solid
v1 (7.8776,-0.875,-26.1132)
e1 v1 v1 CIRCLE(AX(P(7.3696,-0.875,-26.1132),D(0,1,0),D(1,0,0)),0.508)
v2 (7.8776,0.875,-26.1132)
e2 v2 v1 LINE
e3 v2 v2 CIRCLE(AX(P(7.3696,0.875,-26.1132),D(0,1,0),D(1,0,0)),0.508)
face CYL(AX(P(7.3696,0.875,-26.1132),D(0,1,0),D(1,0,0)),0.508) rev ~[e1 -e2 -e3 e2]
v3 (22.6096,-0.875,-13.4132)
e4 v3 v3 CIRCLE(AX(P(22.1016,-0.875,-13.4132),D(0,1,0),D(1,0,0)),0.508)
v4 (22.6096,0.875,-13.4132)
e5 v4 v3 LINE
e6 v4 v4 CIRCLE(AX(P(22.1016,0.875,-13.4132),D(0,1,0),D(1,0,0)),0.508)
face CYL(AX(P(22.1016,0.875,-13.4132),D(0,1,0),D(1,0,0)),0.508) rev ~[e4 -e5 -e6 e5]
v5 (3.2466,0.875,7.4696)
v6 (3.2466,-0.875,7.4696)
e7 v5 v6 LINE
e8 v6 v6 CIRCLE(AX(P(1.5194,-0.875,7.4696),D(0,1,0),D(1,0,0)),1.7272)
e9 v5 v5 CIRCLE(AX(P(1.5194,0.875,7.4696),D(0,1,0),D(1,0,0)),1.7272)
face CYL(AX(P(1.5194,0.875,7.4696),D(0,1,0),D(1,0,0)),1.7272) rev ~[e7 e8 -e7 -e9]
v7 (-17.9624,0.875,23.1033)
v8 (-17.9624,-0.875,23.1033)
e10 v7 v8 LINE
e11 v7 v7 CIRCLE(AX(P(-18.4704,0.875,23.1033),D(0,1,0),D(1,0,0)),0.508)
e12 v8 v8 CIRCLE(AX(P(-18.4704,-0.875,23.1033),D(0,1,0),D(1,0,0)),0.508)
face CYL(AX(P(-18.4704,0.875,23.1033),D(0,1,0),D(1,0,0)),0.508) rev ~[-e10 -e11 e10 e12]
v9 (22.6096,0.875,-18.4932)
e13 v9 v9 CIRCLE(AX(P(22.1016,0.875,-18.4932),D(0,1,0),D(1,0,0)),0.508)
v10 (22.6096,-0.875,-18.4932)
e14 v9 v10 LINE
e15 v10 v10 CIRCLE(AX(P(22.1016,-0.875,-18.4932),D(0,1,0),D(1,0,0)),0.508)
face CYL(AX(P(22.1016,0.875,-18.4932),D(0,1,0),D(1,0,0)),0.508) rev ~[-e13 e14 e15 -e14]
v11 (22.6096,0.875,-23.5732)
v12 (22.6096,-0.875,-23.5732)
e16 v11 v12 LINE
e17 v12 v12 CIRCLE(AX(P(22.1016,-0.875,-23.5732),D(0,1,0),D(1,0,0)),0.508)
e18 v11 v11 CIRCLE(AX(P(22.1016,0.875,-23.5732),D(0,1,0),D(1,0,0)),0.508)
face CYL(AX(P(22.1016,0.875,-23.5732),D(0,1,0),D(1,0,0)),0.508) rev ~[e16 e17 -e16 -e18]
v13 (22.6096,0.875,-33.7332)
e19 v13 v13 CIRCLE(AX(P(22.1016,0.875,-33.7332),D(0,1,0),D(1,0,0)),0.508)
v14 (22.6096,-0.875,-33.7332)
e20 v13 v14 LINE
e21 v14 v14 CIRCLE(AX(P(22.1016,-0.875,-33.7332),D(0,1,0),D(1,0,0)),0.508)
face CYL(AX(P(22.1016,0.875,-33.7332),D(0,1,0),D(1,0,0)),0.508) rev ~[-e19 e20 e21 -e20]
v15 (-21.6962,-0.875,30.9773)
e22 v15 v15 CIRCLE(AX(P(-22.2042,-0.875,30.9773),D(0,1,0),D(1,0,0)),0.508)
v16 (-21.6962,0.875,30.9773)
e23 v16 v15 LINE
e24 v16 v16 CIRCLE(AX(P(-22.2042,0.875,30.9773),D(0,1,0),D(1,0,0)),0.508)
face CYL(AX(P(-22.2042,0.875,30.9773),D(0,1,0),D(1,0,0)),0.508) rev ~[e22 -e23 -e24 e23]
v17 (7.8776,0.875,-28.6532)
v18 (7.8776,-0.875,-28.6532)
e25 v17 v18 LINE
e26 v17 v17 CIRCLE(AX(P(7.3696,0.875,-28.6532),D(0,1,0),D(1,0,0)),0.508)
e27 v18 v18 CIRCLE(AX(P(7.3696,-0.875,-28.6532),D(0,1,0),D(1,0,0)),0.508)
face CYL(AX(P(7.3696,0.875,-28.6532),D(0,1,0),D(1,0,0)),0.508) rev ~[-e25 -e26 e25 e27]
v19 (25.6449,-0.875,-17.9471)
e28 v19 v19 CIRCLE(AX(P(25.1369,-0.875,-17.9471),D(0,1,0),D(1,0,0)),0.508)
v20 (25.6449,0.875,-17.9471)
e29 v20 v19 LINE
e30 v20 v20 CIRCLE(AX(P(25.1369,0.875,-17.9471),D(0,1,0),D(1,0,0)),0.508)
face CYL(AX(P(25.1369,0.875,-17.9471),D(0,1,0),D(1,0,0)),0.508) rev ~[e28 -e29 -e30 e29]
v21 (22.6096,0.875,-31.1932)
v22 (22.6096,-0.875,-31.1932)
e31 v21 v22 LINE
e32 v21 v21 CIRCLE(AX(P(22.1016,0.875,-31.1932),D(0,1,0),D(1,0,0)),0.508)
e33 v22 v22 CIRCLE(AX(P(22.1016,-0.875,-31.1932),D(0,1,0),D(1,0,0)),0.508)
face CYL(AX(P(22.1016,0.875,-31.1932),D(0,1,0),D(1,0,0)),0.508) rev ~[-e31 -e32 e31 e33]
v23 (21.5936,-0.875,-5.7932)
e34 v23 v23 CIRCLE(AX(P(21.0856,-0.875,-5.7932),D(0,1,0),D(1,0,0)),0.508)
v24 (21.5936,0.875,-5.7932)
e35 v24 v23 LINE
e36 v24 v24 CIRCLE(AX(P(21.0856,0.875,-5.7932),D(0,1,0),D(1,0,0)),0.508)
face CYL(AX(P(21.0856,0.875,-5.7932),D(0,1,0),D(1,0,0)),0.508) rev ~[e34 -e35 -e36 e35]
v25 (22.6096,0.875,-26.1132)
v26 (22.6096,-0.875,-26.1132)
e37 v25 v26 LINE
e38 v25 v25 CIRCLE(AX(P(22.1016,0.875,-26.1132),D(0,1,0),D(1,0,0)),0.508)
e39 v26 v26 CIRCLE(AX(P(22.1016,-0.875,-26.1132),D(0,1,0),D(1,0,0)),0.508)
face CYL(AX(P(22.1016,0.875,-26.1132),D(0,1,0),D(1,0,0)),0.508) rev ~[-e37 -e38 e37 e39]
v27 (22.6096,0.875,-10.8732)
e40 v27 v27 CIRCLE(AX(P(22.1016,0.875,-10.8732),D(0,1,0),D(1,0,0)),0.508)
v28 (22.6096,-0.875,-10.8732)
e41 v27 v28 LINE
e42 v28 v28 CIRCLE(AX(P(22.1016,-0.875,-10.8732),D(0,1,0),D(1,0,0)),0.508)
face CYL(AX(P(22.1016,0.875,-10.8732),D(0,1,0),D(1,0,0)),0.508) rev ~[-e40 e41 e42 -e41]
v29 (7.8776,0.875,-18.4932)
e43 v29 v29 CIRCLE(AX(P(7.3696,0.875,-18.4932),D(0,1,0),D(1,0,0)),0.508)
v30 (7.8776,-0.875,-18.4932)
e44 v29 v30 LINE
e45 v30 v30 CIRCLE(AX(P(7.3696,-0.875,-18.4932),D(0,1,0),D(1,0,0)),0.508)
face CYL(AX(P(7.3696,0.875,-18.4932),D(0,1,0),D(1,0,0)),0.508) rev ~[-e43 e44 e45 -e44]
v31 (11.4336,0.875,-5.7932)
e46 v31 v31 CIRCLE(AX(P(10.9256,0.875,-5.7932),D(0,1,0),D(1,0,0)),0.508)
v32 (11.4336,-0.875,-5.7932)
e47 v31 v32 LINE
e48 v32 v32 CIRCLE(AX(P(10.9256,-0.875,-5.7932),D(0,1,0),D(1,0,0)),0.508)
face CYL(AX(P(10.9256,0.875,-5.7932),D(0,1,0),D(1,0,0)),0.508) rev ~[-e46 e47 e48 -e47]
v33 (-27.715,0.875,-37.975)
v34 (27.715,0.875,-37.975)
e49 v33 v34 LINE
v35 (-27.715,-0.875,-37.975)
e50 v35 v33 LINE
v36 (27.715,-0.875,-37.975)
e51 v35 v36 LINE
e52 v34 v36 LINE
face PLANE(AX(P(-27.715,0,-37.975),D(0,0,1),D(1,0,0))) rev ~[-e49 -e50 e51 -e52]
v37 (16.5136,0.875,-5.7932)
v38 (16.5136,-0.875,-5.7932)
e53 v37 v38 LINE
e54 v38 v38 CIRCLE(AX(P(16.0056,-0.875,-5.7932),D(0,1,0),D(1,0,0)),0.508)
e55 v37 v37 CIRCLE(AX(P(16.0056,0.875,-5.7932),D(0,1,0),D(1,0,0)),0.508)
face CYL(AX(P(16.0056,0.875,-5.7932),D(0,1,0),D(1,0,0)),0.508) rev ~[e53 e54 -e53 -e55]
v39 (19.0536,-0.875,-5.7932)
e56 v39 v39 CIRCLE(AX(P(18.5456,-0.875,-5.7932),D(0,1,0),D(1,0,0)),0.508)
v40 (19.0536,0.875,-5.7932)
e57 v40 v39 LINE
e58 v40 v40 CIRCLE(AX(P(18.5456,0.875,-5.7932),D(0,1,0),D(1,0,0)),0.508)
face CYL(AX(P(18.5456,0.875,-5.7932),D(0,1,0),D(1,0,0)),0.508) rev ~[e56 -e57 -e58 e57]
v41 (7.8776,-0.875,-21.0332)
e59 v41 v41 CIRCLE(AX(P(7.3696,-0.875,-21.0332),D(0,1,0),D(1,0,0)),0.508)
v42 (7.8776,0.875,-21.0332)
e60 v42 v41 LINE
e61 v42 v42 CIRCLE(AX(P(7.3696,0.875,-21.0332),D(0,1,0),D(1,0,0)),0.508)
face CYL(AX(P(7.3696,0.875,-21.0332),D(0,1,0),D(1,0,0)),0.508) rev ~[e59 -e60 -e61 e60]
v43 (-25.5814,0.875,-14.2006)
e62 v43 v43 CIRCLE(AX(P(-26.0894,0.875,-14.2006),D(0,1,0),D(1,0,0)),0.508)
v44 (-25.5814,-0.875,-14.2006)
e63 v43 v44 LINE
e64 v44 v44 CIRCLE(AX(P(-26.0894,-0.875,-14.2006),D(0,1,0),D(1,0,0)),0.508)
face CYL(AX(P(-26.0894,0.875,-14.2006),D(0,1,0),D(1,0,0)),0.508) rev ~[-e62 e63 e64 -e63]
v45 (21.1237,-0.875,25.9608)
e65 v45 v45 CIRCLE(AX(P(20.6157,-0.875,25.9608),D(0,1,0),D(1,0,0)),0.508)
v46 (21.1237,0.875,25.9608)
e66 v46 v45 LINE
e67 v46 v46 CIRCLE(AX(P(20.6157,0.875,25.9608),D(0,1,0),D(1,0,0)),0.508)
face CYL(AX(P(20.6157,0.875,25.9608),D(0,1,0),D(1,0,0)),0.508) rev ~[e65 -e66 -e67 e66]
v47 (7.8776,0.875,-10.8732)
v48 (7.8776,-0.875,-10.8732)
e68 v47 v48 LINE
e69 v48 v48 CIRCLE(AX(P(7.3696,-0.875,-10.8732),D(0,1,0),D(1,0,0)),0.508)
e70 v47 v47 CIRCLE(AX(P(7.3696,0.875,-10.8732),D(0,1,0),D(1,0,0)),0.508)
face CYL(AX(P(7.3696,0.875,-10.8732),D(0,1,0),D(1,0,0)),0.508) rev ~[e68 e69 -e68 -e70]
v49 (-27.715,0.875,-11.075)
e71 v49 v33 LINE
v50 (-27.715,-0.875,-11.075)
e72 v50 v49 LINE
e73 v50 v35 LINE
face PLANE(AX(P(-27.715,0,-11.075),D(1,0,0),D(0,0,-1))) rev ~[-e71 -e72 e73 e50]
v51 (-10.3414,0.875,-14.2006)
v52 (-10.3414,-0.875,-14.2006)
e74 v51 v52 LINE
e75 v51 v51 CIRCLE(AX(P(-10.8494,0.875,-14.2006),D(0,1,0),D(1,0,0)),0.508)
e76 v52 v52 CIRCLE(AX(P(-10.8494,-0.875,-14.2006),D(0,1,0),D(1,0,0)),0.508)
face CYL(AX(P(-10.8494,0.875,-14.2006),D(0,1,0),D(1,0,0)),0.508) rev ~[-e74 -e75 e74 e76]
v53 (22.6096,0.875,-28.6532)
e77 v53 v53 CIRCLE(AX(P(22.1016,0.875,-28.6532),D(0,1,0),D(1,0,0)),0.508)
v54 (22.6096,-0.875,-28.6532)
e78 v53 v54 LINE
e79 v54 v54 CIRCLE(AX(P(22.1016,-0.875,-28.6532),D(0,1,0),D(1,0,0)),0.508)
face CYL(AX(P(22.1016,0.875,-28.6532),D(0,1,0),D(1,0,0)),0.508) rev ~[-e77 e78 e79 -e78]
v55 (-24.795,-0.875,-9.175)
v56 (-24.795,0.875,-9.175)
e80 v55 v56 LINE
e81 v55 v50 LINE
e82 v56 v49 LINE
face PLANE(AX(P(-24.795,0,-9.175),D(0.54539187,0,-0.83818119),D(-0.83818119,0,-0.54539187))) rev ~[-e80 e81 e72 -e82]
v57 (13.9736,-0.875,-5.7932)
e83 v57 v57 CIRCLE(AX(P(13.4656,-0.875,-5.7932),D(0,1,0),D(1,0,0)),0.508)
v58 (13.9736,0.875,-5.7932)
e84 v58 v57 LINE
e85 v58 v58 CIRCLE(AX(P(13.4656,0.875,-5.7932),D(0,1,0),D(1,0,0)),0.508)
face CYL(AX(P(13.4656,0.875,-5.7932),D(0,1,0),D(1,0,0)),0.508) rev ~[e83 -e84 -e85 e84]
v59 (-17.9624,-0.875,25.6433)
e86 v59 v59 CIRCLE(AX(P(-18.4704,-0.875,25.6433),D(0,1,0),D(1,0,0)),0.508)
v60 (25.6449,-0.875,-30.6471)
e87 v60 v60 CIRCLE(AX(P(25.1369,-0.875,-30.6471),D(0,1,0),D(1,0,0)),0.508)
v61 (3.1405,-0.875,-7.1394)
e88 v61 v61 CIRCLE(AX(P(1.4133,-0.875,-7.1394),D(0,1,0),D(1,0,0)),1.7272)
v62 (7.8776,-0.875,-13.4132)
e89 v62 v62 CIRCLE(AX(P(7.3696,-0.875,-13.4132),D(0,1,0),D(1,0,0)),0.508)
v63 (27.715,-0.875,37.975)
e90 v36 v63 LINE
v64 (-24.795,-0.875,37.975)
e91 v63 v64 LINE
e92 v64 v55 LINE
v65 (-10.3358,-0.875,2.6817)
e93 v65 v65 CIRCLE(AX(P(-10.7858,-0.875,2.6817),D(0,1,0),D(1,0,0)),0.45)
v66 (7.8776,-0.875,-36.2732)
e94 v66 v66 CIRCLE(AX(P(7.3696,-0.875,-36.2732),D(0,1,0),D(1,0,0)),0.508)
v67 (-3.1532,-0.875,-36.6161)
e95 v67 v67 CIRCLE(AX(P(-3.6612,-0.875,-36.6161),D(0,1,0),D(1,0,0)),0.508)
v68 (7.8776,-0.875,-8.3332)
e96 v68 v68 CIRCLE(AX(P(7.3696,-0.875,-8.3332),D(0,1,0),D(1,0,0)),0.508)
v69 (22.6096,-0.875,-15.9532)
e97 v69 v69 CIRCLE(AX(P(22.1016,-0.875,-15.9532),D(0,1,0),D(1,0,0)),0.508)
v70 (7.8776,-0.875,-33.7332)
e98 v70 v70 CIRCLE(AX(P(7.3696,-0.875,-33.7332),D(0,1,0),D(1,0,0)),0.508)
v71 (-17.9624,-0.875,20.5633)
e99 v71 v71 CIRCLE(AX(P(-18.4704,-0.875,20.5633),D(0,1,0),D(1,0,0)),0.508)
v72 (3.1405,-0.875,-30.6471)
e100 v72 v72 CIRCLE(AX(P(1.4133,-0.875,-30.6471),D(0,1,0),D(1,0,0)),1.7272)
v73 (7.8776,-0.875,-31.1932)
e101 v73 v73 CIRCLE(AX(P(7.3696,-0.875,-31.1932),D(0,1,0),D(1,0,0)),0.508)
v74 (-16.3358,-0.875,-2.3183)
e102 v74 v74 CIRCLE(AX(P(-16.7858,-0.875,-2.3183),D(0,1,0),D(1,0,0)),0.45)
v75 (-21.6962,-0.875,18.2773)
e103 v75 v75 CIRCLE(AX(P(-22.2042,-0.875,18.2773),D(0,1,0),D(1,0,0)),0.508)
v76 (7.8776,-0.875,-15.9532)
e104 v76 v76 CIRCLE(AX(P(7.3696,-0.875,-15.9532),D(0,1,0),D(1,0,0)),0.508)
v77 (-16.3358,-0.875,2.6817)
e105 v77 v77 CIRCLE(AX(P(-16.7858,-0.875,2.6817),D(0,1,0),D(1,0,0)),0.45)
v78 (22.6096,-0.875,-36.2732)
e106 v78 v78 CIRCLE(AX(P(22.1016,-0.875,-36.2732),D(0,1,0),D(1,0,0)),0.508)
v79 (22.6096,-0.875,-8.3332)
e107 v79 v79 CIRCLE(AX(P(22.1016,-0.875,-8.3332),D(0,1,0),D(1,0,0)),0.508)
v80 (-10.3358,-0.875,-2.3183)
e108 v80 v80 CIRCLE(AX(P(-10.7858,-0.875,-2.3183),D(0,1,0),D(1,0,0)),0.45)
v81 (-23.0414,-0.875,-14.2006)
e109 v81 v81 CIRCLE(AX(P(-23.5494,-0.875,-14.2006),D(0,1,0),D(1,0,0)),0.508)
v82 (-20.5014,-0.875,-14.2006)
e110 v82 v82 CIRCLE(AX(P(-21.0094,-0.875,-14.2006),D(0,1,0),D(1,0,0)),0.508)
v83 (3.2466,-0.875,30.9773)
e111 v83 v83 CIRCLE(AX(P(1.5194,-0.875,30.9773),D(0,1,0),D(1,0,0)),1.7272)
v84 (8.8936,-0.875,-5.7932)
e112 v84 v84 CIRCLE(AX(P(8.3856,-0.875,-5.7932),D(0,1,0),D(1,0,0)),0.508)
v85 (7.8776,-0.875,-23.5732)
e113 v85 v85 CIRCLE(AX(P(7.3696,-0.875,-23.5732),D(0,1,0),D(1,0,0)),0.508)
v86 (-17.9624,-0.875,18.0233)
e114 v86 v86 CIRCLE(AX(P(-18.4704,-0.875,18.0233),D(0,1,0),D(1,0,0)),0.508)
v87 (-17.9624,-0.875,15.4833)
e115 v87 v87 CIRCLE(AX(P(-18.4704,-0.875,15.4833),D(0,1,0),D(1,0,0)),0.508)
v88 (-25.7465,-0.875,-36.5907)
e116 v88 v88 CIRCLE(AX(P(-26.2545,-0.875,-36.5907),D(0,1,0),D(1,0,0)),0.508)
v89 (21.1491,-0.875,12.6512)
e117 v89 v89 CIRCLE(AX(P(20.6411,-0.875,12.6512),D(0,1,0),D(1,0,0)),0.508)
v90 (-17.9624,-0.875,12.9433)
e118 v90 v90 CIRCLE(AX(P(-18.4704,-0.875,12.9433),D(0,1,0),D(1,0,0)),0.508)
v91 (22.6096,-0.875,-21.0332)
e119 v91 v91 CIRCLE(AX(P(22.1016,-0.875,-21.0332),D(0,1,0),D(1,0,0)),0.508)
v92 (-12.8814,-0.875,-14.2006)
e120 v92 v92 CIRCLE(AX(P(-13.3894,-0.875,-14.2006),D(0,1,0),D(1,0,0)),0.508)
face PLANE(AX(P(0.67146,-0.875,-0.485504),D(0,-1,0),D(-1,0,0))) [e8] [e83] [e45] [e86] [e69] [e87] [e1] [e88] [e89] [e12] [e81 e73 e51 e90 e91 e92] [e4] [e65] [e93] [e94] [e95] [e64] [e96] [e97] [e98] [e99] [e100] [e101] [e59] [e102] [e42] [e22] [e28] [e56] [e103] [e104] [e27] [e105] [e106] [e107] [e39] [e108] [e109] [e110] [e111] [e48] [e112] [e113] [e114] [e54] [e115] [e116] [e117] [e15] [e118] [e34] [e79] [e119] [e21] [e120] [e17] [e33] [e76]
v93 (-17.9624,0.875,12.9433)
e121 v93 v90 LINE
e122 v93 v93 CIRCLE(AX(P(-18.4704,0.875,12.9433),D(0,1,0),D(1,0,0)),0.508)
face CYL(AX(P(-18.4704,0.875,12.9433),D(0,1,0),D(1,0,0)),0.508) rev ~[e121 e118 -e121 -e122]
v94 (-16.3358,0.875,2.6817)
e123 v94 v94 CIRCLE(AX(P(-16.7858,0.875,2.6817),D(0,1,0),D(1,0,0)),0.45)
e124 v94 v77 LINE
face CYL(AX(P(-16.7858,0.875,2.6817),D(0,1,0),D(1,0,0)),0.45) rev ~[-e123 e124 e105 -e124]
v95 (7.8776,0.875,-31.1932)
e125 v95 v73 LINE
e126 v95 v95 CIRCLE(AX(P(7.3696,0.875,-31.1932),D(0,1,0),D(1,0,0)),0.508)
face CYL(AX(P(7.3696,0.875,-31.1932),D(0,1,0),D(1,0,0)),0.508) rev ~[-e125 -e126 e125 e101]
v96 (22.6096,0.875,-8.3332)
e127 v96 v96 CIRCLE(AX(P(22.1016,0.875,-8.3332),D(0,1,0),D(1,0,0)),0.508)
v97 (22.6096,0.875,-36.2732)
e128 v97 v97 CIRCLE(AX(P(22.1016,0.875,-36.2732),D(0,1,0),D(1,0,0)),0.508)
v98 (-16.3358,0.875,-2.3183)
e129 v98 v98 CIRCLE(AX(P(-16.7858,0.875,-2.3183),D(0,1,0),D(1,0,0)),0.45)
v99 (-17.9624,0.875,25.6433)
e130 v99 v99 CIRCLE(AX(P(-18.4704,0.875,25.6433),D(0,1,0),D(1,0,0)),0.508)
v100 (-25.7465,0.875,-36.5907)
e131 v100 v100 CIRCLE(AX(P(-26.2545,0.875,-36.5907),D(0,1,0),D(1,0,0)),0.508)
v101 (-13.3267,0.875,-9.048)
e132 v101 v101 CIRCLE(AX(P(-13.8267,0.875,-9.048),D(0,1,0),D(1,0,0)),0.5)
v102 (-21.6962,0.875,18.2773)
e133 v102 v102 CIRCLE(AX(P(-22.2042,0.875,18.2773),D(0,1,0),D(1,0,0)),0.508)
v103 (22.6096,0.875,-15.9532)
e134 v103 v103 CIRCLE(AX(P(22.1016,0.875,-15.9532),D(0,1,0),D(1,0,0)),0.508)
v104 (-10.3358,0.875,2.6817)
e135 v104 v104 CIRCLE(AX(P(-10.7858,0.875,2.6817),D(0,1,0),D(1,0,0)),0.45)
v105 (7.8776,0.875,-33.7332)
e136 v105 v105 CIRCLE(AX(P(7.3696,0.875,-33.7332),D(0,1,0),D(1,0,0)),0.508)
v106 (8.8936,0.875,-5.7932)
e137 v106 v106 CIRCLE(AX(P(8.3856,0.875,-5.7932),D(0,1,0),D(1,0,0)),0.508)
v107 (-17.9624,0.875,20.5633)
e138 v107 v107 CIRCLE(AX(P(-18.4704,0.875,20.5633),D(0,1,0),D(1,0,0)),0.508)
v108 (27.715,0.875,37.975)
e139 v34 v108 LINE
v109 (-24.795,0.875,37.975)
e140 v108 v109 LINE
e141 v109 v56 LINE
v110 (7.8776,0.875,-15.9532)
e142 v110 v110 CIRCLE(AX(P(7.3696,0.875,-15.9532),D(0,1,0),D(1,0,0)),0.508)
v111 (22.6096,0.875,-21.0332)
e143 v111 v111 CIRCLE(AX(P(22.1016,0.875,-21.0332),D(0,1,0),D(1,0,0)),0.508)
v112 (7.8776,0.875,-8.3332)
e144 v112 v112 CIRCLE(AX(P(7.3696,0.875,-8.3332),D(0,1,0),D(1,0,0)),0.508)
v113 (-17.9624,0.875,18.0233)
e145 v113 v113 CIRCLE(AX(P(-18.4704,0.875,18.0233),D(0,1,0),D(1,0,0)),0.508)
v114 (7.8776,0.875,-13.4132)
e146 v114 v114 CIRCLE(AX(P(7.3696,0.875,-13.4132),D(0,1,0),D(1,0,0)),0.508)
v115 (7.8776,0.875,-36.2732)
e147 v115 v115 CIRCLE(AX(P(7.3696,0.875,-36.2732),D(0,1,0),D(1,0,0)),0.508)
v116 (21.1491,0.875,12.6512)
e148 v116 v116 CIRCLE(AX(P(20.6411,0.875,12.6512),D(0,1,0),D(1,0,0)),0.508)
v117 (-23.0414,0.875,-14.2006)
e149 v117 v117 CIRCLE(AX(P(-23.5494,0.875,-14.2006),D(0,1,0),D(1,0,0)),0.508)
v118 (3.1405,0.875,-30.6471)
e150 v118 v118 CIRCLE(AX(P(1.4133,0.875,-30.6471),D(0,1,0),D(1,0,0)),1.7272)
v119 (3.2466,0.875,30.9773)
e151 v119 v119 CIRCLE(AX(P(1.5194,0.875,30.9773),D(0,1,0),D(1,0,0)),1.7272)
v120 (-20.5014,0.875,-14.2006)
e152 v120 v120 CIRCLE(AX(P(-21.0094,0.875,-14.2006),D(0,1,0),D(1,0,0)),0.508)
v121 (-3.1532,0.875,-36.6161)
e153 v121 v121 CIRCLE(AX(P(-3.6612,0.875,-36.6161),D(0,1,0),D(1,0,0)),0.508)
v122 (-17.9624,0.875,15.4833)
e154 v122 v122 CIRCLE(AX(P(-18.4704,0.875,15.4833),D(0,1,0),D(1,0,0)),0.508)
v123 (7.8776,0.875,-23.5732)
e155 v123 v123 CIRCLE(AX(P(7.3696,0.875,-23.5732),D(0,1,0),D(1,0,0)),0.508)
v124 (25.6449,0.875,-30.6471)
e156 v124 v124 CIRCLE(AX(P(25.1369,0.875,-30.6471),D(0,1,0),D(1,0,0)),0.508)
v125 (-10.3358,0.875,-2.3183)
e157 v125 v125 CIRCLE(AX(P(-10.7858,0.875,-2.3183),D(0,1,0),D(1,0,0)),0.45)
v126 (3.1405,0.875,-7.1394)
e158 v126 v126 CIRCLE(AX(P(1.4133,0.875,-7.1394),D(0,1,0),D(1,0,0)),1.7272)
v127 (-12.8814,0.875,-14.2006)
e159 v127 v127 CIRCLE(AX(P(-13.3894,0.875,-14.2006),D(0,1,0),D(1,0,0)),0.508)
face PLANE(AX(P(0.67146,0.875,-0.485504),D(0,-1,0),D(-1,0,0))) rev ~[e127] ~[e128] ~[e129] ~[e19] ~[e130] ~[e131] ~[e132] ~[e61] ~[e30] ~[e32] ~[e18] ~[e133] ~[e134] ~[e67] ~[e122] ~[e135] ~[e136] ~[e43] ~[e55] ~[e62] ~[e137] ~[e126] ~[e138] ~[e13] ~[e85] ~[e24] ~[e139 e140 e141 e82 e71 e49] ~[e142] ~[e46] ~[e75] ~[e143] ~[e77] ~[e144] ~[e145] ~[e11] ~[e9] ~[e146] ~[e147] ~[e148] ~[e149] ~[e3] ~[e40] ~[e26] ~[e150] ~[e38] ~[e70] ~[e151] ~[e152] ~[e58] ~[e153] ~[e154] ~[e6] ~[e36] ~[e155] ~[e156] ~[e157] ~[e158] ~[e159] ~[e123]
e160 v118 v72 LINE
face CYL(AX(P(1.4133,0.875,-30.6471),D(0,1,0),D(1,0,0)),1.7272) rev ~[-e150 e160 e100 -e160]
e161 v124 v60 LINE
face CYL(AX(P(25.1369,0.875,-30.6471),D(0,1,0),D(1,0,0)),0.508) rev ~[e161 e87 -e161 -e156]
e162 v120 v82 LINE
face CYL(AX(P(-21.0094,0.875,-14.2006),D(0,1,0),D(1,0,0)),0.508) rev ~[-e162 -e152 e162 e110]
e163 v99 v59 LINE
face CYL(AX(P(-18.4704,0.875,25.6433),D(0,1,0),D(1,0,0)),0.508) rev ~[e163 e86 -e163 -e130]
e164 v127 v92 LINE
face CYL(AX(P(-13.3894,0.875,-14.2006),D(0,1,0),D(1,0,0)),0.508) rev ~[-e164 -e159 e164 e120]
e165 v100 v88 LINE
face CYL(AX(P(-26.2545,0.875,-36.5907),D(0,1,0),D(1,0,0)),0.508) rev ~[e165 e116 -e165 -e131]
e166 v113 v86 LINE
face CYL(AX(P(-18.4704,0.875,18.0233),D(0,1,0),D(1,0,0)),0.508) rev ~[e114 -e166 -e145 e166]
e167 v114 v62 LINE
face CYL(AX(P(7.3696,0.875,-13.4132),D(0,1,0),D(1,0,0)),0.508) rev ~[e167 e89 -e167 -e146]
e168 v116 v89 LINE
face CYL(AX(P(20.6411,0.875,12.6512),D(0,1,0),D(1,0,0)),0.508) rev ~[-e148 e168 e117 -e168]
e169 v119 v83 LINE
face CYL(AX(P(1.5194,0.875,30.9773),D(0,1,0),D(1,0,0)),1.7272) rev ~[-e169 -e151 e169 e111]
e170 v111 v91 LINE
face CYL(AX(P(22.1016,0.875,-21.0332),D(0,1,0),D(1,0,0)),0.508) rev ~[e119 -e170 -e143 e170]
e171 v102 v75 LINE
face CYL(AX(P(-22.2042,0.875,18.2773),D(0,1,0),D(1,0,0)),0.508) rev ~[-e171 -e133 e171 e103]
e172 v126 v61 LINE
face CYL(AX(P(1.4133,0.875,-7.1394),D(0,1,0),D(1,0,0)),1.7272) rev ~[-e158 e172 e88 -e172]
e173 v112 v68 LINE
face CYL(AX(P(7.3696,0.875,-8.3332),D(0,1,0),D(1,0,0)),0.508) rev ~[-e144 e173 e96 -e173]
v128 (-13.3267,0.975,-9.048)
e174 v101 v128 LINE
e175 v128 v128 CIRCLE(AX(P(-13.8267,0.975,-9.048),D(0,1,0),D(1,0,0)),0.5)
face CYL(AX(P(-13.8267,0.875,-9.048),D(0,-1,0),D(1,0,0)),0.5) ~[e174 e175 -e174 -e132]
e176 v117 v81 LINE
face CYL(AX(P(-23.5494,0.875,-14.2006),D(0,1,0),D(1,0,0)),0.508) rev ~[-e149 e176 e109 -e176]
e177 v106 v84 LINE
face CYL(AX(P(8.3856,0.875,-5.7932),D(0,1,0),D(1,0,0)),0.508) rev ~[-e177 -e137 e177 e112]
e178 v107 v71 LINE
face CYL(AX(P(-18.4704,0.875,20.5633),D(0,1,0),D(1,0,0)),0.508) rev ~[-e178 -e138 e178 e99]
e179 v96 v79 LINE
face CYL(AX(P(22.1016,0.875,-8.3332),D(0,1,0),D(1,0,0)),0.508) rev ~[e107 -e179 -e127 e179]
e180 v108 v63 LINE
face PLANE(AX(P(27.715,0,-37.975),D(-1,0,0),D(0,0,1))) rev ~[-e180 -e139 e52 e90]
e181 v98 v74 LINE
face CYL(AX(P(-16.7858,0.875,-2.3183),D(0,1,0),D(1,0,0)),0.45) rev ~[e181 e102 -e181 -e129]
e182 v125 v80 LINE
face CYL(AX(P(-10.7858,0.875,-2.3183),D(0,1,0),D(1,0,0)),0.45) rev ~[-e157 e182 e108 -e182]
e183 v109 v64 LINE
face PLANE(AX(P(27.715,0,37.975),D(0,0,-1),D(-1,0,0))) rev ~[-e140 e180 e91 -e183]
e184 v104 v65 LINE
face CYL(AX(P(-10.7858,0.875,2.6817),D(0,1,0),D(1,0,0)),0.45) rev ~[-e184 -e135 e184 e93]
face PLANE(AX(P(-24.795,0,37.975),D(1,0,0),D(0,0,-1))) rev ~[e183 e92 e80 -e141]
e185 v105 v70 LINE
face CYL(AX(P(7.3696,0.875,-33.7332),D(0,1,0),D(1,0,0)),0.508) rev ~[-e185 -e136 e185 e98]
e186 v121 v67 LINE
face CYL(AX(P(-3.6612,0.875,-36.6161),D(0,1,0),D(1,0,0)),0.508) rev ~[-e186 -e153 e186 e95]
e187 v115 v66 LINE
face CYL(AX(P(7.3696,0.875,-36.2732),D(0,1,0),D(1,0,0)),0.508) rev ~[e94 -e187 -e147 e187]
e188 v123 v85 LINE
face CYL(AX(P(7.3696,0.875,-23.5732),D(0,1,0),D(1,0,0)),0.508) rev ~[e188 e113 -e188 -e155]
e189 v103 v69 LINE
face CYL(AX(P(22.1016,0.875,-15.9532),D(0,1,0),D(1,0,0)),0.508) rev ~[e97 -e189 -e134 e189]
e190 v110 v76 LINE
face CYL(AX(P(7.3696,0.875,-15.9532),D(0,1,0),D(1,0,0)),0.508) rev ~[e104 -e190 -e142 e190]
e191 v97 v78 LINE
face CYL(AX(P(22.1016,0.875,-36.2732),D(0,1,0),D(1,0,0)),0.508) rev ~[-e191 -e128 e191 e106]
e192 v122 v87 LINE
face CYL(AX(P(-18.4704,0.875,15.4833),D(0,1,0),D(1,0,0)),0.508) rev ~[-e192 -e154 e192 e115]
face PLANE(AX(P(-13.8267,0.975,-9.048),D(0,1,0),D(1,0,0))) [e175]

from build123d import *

# Parameters (mm, degrees)
BOSS_EXTRUDE1_DEPTH = 0.875
SKETCH2_R           = 1.7272
SKETCH2_R_2         = 0.508
CUT_EXTRUDE1_DEPTH  = 2.75
SKETCH4_R           = 0.508
CUT_EXTRUDE2_DEPTH  = 2.75
SKETCH5_R           = 0.508
CUT_EXTRUDE3_DEPTH  = 2.75
SKETCH6_R           = 0.508
CUT_EXTRUDE4_DEPTH  = 2.75
SKETCH7_R           = 0.508
CUT_EXTRUDE5_DEPTH  = 2.75
SKETCH8_R           = 0.45
CUT_EXTRUDE6_DEPTH  = 2.75
SKETCH9_R           = 0.5
BOSS_EXTRUDE2_DEPTH = 0.1


with BuildPart() as part:
    # Sketch1 → Boss-Extrude1 (new body, symmetric)
    with BuildSketch(Plane(origin=(0, 0, 0), x_dir=(1, 0, 0), z_dir=(0, 1, 0))):
        Polygon((-27.715, 37.975), (27.715, 37.975), (27.715, -37.975), (-24.795, -37.975), (-24.795, 9.175), (-27.715, 11.075), align=None)
    extrude(amount=BOSS_EXTRUDE1_DEPTH, both=True)

    # Sketch2 → Cut-Extrude1 (cut, through all)
    with BuildSketch(Plane(origin=(0, 0.875, 0), x_dir=(1, 0, 0), z_dir=(0, 1, 0))):
        with Locations((1.5194, -30.9773)):
            Circle(SKETCH2_R)
        with Locations((1.5194, -7.4696)):
            Circle(SKETCH2_R)
        with Locations((1.4133, 7.1394)):
            Circle(SKETCH2_R)
        with Locations((1.4133, 30.6471)):
            Circle(SKETCH2_R)
        with Locations((-22.2042, -30.9773)):
            Circle(SKETCH2_R_2)
        with Locations((-22.2042, -18.2773)):
            Circle(SKETCH2_R_2)
        with Locations((25.1369, 17.9471)):
            Circle(SKETCH2_R_2)
        with Locations((25.1369, 30.6471)):
            Circle(SKETCH2_R_2)
    extrude(amount=-CUT_EXTRUDE1_DEPTH, mode=Mode.SUBTRACT)

    # Sketch4 → Cut-Extrude2 (cut, through all)
    with BuildSketch(Plane(origin=(0, 0.875, 0), x_dir=(1, 0, 0), z_dir=(0, 1, 0))):
        with Locations((-18.4704, -12.9433)):
            Circle(SKETCH4_R)
        with Locations((-18.4704, -15.4833)):
            Circle(SKETCH4_R)
        with Locations((-18.4704, -18.0233)):
            Circle(SKETCH4_R)
        with Locations((-18.4704, -20.5633)):
            Circle(SKETCH4_R)
        with Locations((-18.4704, -23.1033)):
            Circle(SKETCH4_R)
        with Locations((-18.4704, -25.6433)):
            Circle(SKETCH4_R)
    extrude(amount=-CUT_EXTRUDE2_DEPTH, mode=Mode.SUBTRACT)

    # Sketch5 → Cut-Extrude3 (cut, through all)
    with BuildSketch(Plane(origin=(0, 0.875, 0), x_dir=(1, 0, 0), z_dir=(0, 1, 0))):
        with Locations((-26.0894, 14.2006)):
            Circle(SKETCH5_R)
        with Locations((-23.5494, 14.2006)):
            Circle(SKETCH5_R)
        with Locations((-21.0094, 14.2006)):
            Circle(SKETCH5_R)
        with Locations((-13.3894, 14.2006)):
            Circle(SKETCH5_R)
        with Locations((-10.8494, 14.2006)):
            Circle(SKETCH5_R)
    extrude(amount=-CUT_EXTRUDE3_DEPTH, mode=Mode.SUBTRACT)

    # Sketch6 → Cut-Extrude4 (cut, through all)
    with BuildSketch(Plane(origin=(0, 0.875, 0), x_dir=(1, 0, 0), z_dir=(0, 1, 0))):
        with Locations((7.3696, 36.2732)):
            Circle(SKETCH6_R)
        with Locations((7.3696, 33.7332)):
            Circle(SKETCH6_R)
        with Locations((7.3696, 31.1932)):
            Circle(SKETCH6_R)
        with Locations((7.3696, 28.6532)):
            Circle(SKETCH6_R)
        with Locations((7.3696, 26.1132)):
            Circle(SKETCH6_R)
        with Locations((7.3696, 23.5732)):
            Circle(SKETCH6_R)
        with Locations((7.3696, 21.0332)):
            Circle(SKETCH6_R)
        with Locations((7.3696, 18.4932)):
            Circle(SKETCH6_R)
        with Locations((7.3696, 15.9532)):
            Circle(SKETCH6_R)
        with Locations((7.3696, 13.4132)):
            Circle(SKETCH6_R)
        with Locations((7.3696, 10.8732)):
            Circle(SKETCH6_R)
        with Locations((7.3696, 8.3332)):
            Circle(SKETCH6_R)
        with Locations((8.3856, 5.7932)):
            Circle(SKETCH6_R)
        with Locations((10.9256, 5.7932)):
            Circle(SKETCH6_R)
        with Locations((13.4656, 5.7932)):
            Circle(SKETCH6_R)
        with Locations((16.0056, 5.7932)):
            Circle(SKETCH6_R)
        with Locations((18.5456, 5.7932)):
            Circle(SKETCH6_R)
        with Locations((21.0856, 5.7932)):
            Circle(SKETCH6_R)
        with Locations((22.1016, 8.3332)):
            Circle(SKETCH6_R)
        with Locations((22.1016, 10.8732)):
            Circle(SKETCH6_R)
        with Locations((22.1016, 13.4132)):
            Circle(SKETCH6_R)
        with Locations((22.1016, 15.9532)):
            Circle(SKETCH6_R)
        with Locations((22.1016, 18.4932)):
            Circle(SKETCH6_R)
        with Locations((22.1016, 21.0332)):
            Circle(SKETCH6_R)
        with Locations((22.1016, 23.5732)):
            Circle(SKETCH6_R)
        with Locations((22.1016, 26.1132)):
            Circle(SKETCH6_R)
        with Locations((22.1016, 28.6532)):
            Circle(SKETCH6_R)
        with Locations((22.1016, 31.1932)):
            Circle(SKETCH6_R)
        with Locations((22.1016, 33.7332)):
            Circle(SKETCH6_R)
        with Locations((22.1016, 36.2732)):
            Circle(SKETCH6_R)
    extrude(amount=-CUT_EXTRUDE4_DEPTH, mode=Mode.SUBTRACT)

    # Sketch7 → Cut-Extrude5 (cut, through all)
    with BuildSketch(Plane(origin=(0, 0.875, 0), x_dir=(1, 0, 0), z_dir=(0, 1, 0))):
        with Locations((20.6157, -25.9608)):
            Circle(SKETCH7_R)
        with Locations((20.6411, -12.6512)):
            Circle(SKETCH7_R)
        with Locations((-3.6612, 36.6161)):
            Circle(SKETCH7_R)
        with Locations((-26.2545, 36.5907)):
            Circle(SKETCH7_R)
    extrude(amount=-CUT_EXTRUDE5_DEPTH, mode=Mode.SUBTRACT)

    # Sketch8 → Cut-Extrude6 (cut, through all)
    with BuildSketch(Plane(origin=(0, 0.875, 0), x_dir=(1, 0, 0), z_dir=(0, 1, 0))):
        with Locations((-16.7858, 2.3183)):
            Circle(SKETCH8_R)
        with Locations((-10.7858, 2.3183)):
            Circle(SKETCH8_R)
        with Locations((-16.7858, -2.6817)):
            Circle(SKETCH8_R)
        with Locations((-10.7858, -2.6817)):
            Circle(SKETCH8_R)
    extrude(amount=-CUT_EXTRUDE6_DEPTH, mode=Mode.SUBTRACT)

    # Sketch9 → Boss-Extrude2 (add)
    with BuildSketch(Plane(origin=(0, 0.875, 0), x_dir=(1, 0, 0), z_dir=(0, 1, 0))):
        with Locations((-13.8267, 9.048)):
            Circle(SKETCH9_R)
    extrude(amount=BOSS_EXTRUDE2_DEPTH)


solid = part.part
